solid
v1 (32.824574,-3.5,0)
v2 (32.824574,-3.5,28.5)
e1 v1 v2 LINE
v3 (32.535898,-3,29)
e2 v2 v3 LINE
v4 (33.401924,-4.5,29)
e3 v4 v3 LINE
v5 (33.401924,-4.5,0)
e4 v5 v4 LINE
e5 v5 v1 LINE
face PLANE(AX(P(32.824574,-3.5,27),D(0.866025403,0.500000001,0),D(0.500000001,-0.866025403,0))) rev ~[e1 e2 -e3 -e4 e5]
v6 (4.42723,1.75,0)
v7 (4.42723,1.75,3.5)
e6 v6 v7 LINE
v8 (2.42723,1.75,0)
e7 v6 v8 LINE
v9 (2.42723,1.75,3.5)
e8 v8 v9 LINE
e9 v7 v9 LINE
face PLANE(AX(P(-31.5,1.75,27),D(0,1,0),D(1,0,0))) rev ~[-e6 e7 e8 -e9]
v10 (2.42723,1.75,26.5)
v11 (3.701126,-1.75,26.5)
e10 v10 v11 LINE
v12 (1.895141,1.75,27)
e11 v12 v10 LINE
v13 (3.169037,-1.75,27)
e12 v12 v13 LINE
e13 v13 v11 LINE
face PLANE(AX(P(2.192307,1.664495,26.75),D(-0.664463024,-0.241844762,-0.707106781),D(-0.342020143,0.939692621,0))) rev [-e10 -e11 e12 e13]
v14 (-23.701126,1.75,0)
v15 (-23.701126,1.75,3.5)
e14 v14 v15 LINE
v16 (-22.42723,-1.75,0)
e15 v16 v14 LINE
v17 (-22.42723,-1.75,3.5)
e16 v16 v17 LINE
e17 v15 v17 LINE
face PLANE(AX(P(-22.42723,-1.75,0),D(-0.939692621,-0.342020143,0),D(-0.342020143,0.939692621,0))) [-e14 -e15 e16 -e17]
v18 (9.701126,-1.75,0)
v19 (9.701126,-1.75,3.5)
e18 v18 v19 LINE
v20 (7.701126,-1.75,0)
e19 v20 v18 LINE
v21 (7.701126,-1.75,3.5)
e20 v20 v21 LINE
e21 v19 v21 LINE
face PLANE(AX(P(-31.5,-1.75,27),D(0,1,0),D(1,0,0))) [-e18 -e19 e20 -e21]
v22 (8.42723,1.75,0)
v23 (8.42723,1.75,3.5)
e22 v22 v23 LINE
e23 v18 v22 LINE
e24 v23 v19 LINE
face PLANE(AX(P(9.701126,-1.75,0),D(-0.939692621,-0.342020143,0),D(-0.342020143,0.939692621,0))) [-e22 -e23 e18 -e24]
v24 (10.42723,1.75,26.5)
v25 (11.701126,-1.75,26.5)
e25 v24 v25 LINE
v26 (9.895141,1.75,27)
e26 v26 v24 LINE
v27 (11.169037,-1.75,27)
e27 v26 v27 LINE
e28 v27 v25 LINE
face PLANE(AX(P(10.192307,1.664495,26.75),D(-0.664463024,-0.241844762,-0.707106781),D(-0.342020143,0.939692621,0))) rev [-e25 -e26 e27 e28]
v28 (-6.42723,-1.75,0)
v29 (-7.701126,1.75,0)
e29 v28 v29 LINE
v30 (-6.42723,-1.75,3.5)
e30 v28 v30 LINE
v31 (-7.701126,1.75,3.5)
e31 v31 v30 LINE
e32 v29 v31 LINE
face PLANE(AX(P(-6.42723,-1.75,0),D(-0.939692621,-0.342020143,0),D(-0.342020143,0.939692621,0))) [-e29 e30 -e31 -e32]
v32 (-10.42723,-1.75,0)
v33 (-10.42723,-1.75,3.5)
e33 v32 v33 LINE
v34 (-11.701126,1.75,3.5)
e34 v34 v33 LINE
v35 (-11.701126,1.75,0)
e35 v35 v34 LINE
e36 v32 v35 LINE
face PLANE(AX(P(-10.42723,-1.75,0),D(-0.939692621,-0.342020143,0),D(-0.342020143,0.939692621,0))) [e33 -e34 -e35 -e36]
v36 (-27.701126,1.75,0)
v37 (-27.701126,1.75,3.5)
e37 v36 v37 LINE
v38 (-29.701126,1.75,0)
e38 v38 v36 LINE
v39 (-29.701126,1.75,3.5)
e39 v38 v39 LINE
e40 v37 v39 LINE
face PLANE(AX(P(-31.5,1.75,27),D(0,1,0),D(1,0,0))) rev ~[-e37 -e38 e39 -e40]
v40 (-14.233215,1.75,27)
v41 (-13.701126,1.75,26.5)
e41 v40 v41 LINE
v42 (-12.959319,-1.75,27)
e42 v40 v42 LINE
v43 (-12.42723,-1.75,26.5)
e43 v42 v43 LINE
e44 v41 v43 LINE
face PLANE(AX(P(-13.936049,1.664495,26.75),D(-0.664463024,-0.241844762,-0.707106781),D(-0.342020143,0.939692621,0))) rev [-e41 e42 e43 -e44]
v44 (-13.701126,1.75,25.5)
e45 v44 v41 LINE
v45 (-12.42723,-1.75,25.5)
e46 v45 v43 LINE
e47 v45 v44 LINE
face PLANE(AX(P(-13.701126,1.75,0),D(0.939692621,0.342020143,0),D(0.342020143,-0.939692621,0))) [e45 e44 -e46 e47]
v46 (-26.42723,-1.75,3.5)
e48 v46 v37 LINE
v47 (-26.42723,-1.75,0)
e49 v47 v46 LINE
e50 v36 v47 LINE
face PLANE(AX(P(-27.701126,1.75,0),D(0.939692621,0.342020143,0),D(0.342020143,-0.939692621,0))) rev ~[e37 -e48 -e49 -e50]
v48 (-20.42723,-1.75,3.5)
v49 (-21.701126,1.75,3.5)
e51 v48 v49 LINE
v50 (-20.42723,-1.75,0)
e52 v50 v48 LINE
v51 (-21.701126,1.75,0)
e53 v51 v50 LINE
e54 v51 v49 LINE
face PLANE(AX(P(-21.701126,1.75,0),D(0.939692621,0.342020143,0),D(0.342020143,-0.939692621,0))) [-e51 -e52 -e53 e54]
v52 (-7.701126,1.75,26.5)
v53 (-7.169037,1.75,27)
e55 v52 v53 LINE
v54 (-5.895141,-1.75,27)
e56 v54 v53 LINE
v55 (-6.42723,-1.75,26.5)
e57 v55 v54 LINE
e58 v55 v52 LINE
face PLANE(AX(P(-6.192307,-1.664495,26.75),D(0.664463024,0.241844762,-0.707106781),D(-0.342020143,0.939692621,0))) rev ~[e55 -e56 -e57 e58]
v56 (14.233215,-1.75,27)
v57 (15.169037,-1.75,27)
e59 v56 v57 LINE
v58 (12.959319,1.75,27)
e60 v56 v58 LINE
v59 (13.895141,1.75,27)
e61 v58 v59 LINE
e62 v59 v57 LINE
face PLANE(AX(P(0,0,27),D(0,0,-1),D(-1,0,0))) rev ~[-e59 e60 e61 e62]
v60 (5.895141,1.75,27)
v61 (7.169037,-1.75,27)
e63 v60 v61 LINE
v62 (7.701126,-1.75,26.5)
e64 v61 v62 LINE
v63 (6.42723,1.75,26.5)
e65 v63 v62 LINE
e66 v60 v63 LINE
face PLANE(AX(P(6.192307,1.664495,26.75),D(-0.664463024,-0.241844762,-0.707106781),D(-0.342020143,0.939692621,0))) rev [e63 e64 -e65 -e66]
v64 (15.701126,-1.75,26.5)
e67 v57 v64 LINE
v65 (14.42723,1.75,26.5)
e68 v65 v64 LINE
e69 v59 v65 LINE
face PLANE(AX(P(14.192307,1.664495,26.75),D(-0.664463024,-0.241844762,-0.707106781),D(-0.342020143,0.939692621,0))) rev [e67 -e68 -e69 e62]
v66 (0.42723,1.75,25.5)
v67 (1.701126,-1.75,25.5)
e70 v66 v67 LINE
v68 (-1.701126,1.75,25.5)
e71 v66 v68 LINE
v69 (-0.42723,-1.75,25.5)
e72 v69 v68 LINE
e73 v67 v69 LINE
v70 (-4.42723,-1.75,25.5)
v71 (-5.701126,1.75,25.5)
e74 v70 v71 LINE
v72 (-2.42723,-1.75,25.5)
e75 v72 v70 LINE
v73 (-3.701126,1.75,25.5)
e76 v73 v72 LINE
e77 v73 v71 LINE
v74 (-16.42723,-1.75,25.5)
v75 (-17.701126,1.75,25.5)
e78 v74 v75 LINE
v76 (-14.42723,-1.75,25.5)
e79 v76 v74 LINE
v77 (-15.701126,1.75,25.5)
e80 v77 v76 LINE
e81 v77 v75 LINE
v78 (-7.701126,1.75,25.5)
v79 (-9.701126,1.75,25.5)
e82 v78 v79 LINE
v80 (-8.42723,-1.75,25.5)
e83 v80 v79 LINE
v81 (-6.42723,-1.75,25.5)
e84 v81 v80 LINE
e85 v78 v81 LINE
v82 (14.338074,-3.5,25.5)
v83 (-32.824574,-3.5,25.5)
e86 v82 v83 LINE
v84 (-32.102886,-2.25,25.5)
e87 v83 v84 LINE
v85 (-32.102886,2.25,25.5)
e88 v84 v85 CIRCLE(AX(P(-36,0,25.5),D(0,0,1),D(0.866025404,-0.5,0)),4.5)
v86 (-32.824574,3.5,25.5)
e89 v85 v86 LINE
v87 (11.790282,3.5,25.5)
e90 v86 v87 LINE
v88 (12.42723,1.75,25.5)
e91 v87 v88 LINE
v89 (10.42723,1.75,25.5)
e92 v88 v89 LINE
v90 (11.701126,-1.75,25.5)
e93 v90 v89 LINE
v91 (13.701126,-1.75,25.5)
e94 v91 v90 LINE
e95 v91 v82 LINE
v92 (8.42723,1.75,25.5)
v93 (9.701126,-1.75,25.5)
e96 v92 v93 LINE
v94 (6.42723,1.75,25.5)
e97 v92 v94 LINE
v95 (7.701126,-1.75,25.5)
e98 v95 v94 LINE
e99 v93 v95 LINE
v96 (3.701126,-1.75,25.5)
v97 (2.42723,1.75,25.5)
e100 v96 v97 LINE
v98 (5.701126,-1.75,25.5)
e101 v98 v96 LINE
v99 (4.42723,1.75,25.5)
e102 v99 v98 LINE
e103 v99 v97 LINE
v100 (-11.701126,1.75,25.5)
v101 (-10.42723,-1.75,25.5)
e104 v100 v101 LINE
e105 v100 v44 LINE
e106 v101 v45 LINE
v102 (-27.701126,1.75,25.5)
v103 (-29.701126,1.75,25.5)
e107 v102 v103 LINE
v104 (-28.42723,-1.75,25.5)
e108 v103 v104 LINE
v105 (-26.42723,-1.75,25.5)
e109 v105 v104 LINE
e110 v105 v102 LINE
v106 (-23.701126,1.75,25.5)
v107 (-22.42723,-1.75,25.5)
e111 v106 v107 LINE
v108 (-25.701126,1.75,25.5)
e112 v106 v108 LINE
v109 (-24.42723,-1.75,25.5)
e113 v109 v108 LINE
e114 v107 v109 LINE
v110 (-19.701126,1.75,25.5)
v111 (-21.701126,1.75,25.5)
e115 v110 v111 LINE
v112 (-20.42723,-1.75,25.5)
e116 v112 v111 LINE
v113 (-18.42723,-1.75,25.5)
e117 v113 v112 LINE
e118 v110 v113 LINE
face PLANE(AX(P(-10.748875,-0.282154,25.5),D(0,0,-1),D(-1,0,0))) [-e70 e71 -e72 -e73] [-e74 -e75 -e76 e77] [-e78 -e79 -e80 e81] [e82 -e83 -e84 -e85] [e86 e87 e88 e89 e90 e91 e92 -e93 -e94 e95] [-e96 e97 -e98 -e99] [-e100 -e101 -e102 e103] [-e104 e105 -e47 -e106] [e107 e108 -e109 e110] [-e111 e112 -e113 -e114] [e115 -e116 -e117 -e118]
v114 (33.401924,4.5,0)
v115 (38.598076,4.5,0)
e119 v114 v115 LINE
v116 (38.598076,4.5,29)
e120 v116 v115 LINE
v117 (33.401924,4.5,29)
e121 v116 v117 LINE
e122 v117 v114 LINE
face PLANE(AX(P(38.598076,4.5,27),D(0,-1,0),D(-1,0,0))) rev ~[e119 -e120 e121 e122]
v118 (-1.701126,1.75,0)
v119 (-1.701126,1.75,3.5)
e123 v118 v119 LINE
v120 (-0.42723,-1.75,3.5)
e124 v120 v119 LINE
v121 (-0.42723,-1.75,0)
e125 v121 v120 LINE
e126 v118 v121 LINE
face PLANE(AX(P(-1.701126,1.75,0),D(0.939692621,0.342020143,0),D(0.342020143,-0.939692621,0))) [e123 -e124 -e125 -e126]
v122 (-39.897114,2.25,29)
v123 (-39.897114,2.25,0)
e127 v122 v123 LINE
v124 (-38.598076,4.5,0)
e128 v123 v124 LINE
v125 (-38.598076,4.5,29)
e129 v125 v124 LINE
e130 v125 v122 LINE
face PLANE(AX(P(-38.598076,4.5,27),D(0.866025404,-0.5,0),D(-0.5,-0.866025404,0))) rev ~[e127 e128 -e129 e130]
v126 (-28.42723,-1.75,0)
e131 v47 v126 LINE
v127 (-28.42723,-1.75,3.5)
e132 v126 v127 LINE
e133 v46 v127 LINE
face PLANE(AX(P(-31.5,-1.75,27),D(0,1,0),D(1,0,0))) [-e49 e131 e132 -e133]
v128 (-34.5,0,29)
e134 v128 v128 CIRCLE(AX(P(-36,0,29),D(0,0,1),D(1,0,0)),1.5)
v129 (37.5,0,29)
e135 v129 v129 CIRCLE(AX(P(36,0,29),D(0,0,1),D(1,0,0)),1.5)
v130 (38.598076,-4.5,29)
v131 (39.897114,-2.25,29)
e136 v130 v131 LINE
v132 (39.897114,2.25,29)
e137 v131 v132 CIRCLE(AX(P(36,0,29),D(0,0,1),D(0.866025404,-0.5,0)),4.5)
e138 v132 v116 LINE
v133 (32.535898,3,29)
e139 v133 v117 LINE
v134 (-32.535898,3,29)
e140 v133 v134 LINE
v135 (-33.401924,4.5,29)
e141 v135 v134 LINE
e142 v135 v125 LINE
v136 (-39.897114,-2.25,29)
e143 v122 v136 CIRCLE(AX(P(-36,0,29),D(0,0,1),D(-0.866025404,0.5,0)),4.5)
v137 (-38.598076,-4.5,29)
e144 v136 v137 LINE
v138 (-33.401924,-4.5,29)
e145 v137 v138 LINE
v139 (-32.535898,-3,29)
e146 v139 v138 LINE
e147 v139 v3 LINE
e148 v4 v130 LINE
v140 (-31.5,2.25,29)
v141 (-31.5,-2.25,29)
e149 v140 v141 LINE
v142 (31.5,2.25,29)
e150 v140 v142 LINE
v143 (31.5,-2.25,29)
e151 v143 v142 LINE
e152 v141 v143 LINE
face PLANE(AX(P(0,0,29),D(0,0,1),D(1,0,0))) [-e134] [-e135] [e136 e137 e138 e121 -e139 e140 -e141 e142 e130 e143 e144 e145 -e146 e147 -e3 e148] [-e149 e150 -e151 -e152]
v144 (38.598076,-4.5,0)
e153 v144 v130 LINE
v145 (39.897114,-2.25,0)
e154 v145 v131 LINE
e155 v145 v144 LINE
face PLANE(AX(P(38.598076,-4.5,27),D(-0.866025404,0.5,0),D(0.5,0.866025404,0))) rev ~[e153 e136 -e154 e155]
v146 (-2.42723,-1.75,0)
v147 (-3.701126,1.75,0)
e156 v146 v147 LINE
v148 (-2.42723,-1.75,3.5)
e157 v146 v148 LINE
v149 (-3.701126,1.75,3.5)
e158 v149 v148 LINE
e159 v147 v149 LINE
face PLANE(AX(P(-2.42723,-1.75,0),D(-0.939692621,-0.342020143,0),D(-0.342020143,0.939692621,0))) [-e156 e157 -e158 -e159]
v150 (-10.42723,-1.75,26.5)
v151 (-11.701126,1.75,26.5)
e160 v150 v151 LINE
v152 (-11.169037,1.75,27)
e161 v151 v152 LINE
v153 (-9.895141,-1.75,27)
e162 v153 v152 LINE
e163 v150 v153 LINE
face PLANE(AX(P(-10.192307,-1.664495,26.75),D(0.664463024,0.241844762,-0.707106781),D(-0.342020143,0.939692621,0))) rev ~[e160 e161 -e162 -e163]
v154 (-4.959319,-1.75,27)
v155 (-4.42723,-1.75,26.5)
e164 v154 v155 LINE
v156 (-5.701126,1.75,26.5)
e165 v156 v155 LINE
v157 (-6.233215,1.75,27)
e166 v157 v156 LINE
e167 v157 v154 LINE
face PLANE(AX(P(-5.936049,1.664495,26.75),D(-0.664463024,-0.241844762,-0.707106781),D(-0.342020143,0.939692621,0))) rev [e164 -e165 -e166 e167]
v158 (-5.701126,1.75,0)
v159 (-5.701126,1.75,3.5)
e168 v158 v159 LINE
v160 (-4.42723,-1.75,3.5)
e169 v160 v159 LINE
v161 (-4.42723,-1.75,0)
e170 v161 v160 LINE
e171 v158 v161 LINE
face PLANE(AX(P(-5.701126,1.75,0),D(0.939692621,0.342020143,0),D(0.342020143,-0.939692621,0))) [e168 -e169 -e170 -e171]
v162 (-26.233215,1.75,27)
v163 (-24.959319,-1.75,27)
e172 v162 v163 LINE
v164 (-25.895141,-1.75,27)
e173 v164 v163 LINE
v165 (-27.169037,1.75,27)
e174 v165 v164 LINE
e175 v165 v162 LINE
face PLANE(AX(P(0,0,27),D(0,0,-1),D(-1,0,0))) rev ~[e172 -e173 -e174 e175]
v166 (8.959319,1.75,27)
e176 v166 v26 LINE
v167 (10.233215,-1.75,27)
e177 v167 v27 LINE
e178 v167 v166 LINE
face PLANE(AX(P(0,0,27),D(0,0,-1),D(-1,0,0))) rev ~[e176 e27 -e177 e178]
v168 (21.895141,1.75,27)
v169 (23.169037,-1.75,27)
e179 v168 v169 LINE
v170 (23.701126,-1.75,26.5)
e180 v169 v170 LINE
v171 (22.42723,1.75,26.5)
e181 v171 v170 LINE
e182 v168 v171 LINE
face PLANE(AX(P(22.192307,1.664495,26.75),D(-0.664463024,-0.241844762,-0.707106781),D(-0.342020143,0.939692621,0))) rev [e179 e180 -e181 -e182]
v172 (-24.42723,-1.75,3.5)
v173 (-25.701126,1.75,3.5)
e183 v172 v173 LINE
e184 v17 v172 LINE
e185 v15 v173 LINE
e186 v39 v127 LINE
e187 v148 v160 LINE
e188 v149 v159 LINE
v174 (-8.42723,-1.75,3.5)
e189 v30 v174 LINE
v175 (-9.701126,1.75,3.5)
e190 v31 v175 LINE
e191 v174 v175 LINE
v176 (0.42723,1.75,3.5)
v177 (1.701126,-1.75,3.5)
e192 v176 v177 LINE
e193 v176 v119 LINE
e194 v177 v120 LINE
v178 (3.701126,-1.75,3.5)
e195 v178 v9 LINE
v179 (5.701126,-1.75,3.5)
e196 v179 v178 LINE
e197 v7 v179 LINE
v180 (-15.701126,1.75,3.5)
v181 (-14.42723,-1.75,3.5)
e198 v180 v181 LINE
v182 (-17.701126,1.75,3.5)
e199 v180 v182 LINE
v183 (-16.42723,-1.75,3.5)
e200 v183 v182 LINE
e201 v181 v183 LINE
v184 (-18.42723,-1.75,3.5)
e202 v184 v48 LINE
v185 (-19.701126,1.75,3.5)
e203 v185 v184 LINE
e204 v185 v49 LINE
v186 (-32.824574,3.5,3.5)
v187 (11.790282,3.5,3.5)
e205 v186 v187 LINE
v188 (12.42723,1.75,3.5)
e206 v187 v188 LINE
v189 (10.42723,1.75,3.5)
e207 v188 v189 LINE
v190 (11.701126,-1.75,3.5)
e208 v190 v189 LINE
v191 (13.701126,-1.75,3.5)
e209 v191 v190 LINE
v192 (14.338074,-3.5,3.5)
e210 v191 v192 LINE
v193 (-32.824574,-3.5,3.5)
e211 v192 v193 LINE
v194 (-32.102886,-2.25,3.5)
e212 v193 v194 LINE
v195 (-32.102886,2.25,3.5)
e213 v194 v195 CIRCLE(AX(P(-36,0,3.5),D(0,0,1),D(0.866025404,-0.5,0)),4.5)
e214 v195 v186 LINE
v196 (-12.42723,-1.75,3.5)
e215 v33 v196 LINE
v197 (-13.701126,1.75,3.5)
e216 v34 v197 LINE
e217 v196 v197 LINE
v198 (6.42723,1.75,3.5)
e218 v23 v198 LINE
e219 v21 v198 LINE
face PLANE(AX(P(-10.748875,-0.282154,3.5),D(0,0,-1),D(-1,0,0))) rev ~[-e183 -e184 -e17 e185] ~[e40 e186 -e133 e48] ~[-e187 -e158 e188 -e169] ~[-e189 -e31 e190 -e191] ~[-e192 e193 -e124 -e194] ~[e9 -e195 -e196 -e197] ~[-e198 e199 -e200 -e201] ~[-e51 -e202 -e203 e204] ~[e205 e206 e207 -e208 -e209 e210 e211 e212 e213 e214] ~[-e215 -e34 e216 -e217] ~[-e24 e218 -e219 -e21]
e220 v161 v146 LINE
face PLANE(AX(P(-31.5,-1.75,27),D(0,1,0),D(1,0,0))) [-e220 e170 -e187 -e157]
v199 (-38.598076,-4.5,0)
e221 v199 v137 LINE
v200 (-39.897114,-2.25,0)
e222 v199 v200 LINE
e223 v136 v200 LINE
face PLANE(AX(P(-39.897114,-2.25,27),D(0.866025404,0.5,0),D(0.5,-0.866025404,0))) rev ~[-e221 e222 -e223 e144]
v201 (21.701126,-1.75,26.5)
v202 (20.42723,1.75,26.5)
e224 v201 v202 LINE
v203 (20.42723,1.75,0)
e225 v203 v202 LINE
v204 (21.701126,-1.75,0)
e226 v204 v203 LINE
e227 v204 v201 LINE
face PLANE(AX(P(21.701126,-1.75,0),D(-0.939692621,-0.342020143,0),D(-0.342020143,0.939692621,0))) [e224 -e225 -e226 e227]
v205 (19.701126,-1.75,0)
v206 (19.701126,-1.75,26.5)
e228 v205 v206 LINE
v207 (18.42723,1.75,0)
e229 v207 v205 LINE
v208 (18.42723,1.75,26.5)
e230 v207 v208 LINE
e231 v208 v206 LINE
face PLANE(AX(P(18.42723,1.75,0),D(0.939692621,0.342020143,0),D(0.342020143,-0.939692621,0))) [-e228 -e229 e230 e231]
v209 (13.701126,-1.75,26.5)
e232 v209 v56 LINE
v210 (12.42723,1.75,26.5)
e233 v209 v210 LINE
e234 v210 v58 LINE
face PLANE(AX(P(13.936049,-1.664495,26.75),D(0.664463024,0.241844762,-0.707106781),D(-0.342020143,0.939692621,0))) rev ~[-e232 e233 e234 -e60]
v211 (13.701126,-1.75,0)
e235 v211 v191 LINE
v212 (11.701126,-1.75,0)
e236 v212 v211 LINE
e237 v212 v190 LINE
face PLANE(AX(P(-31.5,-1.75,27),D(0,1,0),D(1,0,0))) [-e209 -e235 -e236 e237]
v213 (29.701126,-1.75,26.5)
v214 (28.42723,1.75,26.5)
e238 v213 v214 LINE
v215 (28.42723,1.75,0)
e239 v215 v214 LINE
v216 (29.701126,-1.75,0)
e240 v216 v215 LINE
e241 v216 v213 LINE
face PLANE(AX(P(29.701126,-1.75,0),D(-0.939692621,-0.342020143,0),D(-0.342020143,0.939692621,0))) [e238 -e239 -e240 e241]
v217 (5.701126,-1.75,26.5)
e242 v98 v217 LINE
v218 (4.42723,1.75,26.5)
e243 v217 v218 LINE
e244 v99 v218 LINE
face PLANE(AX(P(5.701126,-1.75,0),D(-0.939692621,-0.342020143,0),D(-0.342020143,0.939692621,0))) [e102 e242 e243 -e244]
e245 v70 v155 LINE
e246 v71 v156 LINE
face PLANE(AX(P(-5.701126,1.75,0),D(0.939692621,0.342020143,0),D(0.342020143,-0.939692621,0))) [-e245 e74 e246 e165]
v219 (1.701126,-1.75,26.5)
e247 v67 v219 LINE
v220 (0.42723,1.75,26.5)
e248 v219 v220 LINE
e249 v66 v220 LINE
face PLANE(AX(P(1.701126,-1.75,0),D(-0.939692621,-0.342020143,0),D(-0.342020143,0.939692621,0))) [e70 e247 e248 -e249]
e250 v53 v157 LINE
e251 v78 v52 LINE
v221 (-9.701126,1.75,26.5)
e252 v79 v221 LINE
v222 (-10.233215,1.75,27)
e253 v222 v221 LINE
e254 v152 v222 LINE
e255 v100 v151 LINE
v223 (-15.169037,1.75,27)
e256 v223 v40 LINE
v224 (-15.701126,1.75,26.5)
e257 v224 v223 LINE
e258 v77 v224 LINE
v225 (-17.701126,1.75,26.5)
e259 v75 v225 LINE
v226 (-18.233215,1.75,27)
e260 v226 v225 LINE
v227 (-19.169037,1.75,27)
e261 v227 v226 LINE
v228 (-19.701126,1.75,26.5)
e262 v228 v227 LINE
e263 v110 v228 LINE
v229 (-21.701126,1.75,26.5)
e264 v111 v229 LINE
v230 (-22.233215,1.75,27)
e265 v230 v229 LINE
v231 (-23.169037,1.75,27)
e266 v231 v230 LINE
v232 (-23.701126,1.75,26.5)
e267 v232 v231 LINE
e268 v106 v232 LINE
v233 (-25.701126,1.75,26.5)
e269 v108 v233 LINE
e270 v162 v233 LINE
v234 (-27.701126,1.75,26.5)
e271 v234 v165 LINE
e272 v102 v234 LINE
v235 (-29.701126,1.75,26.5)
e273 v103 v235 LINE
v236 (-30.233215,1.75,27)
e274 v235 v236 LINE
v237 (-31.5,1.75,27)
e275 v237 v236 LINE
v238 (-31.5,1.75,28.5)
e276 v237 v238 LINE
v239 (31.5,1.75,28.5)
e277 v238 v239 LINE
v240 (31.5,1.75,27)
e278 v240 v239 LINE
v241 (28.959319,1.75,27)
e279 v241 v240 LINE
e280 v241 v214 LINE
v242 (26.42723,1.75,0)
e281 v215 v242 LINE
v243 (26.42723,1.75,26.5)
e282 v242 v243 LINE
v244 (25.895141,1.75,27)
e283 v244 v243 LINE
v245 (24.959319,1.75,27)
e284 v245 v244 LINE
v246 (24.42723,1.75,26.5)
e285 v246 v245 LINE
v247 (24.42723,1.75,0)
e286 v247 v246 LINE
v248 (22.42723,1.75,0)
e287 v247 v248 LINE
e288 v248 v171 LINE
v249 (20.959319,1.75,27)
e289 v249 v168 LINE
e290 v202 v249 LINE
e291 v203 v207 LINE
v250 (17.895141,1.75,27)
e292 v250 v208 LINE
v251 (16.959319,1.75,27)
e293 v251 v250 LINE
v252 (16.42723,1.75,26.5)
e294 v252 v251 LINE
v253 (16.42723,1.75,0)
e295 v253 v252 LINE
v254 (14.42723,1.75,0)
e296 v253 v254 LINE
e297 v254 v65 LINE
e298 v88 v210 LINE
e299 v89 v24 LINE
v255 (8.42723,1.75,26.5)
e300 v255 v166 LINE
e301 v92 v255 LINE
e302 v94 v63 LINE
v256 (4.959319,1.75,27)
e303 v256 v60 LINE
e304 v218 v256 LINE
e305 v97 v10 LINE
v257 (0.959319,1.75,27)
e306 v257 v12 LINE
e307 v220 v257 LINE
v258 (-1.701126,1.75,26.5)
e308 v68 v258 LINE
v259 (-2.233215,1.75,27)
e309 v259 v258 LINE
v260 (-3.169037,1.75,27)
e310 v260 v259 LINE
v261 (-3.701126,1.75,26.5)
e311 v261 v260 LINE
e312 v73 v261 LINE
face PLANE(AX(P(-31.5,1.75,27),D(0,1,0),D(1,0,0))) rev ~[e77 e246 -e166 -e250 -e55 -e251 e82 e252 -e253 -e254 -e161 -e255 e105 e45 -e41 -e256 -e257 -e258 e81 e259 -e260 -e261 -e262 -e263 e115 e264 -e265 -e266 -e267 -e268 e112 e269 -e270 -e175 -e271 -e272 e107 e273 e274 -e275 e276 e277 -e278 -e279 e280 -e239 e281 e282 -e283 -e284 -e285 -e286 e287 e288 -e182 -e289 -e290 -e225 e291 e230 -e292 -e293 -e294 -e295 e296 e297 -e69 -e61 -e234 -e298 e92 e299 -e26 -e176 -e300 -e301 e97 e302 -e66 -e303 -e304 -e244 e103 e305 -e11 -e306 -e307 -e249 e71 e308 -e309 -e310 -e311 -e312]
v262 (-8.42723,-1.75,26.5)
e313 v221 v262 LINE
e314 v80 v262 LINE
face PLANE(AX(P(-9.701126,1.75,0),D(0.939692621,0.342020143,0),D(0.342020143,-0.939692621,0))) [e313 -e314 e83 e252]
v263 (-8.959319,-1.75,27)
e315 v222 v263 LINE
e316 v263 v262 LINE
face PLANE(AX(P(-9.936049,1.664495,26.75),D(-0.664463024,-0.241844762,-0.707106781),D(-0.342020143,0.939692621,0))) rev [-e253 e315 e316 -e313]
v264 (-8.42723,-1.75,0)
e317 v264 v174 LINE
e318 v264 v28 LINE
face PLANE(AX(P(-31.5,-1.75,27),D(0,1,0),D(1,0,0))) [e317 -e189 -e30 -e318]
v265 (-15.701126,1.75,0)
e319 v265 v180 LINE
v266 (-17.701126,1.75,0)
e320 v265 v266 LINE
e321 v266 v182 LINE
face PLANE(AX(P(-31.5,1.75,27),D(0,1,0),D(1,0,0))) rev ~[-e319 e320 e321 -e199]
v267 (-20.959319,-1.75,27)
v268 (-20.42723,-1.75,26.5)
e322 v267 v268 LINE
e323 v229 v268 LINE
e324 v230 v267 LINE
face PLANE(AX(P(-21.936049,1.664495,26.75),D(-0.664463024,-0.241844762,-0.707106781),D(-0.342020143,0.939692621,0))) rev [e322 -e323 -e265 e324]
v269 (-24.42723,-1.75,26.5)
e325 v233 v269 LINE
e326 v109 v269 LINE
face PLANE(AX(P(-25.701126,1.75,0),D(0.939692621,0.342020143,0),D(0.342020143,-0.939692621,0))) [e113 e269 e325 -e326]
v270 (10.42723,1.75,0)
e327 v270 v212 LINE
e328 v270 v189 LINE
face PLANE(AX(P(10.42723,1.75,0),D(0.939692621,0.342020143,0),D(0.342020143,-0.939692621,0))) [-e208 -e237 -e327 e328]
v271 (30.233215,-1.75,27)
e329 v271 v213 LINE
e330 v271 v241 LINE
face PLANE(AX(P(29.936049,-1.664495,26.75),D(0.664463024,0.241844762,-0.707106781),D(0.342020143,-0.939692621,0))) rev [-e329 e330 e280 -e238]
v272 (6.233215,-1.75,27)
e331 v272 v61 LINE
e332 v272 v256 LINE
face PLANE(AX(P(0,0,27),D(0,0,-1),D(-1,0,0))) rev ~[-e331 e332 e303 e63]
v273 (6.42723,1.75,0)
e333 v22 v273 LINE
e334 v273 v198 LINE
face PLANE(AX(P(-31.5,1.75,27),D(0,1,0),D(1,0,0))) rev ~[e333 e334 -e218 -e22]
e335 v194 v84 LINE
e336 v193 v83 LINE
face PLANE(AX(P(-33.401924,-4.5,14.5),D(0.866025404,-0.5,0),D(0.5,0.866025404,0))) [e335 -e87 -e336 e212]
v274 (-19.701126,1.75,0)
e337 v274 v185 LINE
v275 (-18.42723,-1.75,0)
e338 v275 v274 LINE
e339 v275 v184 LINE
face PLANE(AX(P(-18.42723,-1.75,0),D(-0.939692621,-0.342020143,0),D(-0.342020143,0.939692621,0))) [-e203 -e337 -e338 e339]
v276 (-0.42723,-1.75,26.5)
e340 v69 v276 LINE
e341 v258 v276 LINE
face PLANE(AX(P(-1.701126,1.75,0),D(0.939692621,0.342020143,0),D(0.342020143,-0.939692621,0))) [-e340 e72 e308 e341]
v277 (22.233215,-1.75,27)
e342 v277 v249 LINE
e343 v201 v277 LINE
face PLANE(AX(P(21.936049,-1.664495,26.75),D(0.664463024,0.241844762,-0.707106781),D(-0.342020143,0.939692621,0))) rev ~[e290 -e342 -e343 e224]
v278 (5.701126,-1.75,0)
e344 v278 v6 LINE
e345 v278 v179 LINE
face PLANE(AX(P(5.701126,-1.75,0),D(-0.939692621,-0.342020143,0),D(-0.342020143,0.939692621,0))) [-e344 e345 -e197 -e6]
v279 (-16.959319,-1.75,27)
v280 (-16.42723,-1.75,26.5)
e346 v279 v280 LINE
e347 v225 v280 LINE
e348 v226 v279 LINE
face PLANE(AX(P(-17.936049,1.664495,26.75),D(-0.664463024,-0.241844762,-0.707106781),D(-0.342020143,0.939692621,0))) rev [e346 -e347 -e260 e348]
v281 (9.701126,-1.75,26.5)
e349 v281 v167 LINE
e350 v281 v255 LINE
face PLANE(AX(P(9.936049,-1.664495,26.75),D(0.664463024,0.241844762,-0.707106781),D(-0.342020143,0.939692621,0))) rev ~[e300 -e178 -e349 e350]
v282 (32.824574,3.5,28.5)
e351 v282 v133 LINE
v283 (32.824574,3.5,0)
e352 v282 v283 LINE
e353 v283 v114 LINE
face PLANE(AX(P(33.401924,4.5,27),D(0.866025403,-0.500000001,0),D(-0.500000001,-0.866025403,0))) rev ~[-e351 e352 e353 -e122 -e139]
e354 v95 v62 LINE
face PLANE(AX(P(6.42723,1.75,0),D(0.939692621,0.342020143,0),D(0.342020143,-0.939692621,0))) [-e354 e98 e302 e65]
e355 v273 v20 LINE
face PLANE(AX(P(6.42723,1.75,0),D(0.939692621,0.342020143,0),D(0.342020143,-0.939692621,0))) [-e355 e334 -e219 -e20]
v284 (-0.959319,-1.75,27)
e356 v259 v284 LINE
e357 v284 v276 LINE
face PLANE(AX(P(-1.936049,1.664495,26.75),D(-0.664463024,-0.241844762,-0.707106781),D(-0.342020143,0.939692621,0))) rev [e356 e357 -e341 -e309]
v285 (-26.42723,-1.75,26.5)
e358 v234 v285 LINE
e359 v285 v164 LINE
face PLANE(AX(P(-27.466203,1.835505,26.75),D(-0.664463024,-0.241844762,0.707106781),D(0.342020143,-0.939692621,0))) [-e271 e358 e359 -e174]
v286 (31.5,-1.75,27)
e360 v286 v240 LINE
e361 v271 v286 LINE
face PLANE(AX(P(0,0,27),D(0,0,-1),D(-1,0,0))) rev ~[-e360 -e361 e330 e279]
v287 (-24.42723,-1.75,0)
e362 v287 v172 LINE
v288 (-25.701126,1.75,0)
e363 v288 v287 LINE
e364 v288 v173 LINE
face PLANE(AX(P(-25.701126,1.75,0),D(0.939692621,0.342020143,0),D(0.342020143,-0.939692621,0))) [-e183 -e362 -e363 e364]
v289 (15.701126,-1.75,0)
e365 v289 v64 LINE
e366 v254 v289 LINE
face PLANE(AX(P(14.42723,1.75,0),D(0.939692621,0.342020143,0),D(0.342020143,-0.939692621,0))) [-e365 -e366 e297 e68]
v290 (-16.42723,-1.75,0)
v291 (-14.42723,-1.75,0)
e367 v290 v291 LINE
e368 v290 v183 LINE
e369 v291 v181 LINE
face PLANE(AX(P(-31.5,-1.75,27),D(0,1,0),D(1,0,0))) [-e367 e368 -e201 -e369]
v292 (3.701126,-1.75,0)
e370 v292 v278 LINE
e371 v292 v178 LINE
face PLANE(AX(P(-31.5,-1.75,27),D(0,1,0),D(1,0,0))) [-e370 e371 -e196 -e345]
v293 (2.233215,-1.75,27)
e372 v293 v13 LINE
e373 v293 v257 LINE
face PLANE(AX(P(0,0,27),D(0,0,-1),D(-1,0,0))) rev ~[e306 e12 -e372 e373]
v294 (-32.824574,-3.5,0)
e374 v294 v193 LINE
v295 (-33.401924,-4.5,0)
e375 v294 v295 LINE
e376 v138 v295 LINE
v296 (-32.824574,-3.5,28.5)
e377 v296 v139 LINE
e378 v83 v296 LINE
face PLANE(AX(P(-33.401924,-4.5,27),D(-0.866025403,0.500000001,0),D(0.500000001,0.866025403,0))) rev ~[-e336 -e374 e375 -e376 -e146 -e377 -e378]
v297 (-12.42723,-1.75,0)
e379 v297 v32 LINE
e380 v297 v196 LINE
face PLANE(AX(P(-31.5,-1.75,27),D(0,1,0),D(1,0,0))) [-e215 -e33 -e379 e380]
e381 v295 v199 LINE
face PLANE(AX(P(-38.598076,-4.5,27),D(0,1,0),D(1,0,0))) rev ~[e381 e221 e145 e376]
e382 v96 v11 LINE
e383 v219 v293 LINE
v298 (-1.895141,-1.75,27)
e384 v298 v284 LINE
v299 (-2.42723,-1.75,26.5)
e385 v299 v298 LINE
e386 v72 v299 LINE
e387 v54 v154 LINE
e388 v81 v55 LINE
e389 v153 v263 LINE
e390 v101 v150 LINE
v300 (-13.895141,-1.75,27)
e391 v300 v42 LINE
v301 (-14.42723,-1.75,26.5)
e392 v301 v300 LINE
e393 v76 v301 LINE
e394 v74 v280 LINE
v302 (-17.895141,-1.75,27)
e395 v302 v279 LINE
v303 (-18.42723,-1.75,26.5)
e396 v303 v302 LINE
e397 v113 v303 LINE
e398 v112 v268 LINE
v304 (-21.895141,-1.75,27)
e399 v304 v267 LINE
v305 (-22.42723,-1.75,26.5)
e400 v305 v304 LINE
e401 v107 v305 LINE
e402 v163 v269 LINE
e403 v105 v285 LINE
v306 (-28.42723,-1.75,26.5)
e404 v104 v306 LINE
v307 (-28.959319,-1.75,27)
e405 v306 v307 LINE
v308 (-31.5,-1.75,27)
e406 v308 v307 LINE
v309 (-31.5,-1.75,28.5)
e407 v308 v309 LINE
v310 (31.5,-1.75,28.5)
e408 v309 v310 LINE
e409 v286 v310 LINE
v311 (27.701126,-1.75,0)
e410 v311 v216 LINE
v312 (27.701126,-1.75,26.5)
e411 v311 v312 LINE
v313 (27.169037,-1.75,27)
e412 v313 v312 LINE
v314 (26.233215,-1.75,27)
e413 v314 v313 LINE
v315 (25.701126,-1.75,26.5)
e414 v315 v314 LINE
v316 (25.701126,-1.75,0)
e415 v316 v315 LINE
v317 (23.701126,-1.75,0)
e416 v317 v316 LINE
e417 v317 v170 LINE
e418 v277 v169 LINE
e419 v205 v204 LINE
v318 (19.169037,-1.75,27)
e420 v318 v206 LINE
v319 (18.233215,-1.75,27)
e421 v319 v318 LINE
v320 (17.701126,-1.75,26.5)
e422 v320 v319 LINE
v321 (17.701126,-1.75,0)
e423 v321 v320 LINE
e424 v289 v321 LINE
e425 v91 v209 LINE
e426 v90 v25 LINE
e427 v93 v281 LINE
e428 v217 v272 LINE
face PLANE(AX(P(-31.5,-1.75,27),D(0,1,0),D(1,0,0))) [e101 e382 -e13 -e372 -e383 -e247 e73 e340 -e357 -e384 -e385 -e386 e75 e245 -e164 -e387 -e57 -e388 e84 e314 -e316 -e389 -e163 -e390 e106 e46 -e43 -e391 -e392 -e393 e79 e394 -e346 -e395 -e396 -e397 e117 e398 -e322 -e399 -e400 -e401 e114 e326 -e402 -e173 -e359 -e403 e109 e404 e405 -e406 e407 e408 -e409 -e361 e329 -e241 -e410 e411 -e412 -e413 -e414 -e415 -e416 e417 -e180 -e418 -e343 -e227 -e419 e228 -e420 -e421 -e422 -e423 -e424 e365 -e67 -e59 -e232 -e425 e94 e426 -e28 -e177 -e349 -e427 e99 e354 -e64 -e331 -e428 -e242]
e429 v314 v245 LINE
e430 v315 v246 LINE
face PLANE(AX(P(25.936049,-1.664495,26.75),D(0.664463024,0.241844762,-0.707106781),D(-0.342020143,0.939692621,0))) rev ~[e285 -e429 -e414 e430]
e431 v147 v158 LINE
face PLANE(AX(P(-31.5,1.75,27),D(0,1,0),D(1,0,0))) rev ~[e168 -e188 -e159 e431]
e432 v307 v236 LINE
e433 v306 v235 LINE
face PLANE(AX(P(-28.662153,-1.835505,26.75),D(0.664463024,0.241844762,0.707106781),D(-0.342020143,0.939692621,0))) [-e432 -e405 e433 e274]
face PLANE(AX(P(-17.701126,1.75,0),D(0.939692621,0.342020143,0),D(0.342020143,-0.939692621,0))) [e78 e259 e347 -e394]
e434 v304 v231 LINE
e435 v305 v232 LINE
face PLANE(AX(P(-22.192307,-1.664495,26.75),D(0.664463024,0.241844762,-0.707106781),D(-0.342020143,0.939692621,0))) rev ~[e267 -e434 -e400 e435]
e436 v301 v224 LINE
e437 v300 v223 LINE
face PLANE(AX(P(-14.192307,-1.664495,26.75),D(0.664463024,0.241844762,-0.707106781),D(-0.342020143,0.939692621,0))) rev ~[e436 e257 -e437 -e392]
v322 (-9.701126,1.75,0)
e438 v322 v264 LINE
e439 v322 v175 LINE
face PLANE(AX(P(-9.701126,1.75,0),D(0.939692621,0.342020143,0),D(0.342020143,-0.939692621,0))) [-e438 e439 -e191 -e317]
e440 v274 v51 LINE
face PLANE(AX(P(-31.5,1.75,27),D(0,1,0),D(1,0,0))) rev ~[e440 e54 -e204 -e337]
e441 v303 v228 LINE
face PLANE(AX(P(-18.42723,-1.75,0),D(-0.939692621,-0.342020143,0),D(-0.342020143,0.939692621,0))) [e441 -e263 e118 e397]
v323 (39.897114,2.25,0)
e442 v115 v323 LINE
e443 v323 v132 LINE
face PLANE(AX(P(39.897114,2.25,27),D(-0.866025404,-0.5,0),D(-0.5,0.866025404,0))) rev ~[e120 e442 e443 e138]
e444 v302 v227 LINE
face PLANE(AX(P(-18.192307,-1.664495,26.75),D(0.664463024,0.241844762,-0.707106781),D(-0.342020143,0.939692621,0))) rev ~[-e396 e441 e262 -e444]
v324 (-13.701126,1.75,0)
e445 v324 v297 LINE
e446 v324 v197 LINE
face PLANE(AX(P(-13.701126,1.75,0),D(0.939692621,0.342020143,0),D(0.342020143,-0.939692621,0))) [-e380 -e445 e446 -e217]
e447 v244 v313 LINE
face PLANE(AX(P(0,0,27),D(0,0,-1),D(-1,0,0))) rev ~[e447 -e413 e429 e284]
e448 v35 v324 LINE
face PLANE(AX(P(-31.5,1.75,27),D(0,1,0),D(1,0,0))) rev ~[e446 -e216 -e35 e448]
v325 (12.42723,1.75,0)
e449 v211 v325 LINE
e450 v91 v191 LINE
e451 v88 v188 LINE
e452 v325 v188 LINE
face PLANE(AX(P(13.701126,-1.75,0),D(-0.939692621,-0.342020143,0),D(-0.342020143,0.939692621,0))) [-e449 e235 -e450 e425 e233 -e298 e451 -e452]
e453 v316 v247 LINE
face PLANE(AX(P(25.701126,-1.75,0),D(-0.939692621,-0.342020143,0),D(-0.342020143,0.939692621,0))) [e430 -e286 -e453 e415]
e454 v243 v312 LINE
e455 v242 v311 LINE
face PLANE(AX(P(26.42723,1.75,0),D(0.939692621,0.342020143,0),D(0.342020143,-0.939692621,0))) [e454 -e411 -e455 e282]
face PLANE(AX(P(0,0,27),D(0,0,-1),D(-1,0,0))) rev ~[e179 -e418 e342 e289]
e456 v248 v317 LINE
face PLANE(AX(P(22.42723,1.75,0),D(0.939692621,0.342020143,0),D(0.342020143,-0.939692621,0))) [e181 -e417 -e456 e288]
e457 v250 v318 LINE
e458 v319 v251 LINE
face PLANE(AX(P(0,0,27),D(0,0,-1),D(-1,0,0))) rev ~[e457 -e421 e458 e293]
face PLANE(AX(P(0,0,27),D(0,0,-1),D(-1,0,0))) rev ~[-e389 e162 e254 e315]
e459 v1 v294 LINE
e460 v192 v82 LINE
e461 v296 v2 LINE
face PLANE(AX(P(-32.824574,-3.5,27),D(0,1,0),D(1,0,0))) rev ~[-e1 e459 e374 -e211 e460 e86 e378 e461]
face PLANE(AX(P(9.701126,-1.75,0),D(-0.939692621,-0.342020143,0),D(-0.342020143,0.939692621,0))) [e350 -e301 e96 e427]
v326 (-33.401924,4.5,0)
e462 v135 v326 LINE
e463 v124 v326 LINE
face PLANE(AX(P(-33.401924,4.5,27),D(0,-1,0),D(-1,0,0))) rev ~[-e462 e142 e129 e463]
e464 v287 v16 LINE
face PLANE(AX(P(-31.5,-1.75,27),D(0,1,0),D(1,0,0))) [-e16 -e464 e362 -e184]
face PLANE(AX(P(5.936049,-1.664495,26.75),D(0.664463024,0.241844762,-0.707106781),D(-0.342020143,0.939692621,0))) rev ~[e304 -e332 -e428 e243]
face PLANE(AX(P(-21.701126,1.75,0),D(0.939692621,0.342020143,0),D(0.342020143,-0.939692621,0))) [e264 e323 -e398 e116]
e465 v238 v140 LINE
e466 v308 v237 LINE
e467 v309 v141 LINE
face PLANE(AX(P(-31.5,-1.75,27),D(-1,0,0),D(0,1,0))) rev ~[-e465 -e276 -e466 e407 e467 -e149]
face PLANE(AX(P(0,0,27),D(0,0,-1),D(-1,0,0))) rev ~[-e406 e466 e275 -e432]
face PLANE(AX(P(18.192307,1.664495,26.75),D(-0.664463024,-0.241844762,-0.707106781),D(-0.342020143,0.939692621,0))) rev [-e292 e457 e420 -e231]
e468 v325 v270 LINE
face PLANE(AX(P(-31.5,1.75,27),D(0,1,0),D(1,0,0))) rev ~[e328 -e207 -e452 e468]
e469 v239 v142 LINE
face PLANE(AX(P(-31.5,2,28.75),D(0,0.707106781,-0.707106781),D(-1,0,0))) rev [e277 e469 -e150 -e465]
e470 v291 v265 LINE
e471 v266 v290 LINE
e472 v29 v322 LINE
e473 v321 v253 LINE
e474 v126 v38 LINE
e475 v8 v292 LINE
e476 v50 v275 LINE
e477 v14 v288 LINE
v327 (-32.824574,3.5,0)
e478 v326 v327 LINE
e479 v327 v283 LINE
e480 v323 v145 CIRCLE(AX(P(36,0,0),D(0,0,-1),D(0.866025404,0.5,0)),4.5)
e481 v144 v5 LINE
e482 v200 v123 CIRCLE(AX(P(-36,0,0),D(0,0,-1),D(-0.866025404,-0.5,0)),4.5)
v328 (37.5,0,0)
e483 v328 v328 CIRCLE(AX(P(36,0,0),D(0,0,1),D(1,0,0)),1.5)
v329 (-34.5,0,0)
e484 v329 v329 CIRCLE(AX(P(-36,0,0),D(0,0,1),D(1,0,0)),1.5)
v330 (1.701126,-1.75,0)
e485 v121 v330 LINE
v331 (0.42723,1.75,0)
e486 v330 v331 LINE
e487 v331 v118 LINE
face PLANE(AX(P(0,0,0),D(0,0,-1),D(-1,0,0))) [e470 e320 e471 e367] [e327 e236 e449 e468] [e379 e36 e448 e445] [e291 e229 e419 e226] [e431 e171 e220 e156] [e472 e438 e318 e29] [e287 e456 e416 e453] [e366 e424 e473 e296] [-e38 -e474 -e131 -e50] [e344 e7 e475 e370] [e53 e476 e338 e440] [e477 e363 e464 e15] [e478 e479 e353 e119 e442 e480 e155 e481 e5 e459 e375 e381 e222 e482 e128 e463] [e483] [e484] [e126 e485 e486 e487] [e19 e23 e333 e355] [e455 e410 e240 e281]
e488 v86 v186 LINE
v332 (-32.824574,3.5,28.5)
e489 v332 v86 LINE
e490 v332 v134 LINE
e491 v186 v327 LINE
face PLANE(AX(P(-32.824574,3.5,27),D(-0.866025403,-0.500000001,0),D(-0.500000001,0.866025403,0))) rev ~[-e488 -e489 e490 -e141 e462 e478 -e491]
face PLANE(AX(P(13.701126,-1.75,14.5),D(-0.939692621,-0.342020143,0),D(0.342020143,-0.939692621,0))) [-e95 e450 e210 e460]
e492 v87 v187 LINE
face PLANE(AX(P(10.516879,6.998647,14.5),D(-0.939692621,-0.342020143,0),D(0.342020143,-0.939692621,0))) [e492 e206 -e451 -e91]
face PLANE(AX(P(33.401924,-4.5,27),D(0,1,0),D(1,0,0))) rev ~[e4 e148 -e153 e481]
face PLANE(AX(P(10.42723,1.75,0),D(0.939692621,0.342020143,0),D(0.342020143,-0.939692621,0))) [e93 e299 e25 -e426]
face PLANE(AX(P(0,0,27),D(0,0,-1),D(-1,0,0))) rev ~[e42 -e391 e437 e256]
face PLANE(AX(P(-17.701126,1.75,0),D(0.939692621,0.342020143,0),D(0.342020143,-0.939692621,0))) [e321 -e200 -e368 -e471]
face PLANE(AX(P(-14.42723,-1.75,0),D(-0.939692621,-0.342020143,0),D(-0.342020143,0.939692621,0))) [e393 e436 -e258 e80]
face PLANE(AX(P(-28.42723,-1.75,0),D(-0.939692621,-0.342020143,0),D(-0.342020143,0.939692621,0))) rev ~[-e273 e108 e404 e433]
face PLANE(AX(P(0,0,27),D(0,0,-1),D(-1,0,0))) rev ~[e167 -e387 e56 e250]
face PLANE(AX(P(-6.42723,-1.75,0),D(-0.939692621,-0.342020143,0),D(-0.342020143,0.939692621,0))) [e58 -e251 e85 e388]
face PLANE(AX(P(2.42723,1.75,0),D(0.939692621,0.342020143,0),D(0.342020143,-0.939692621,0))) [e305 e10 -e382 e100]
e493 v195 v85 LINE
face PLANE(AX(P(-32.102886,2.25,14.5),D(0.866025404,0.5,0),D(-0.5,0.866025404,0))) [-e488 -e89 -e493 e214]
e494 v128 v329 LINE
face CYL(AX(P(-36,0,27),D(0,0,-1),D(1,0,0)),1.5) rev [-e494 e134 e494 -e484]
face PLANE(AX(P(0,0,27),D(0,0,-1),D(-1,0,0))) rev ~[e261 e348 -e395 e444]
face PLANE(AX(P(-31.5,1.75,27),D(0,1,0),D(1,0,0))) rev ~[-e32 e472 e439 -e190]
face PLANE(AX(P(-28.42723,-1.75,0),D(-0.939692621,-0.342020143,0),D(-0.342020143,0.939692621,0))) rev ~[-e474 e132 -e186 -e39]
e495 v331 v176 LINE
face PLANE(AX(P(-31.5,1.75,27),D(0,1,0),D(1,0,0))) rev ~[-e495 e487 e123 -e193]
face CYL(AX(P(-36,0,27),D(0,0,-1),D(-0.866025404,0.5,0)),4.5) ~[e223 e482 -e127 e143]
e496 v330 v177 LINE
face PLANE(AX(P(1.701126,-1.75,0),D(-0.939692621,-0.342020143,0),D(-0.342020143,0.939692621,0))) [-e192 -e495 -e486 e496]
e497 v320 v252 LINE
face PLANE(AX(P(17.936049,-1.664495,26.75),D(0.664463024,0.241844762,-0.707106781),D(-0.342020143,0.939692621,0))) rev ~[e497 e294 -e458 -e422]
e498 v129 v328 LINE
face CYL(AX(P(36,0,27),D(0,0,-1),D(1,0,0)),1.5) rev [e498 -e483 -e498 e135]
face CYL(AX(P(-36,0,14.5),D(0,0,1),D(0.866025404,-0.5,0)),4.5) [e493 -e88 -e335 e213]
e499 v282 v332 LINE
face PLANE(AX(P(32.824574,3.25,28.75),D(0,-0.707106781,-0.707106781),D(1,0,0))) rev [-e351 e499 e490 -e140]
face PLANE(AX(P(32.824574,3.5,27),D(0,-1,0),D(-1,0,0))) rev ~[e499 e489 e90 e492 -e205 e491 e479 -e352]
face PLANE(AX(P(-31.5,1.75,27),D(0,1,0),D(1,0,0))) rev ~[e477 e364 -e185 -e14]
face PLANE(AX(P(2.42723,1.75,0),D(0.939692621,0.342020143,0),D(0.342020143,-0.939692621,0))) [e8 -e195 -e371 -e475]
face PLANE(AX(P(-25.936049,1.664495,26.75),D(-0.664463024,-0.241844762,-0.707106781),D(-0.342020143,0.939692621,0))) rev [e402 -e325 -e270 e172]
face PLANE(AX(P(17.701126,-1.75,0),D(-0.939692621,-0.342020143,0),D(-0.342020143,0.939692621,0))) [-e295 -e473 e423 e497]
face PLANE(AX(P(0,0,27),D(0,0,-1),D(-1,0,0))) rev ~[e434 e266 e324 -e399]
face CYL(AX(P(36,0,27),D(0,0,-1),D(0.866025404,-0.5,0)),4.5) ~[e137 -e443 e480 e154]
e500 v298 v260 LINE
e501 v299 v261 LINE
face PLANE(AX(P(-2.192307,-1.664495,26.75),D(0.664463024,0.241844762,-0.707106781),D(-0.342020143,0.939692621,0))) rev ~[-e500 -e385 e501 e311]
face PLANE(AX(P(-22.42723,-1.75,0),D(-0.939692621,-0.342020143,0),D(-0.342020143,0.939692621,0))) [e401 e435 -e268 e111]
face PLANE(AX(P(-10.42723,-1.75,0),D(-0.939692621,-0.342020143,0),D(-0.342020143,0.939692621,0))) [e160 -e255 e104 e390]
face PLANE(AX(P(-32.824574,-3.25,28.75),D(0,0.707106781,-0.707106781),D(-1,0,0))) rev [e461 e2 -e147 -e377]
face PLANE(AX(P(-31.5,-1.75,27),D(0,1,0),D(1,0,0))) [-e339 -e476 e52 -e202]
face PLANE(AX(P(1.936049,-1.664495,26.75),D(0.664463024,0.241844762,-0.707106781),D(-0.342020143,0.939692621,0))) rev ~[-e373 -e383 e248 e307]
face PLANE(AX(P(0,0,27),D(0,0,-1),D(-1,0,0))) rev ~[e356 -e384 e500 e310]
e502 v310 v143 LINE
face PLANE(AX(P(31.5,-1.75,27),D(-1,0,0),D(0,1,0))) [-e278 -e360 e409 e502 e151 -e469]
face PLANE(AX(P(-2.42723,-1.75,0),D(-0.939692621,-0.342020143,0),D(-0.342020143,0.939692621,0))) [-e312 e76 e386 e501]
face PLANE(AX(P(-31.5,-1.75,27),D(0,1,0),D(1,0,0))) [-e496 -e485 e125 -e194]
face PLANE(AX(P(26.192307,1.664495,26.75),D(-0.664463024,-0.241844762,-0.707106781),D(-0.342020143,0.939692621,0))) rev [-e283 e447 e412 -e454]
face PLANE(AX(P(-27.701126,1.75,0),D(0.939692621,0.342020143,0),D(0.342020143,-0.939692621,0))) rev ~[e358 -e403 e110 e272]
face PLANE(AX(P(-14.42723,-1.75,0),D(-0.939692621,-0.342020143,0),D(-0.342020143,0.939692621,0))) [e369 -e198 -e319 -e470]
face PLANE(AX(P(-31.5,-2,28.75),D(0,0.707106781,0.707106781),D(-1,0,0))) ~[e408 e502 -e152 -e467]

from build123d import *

# Parameters (mm, degrees)
SKETCH2_R           = 1.5
BOSS_EXTRUDE1_DEPTH = 27
SKETCH3_R           = 1.5
SKETCH3_W           = 63
SKETCH3_H           = 3.5
BOSS_EXTRUDE2_DEPTH = 2
CHAMFER1_SIZE       = 0.5
CUT_EXTRUDE1_DEPTH  = 11


with BuildPart() as part:
    # Sketch2 → Boss-Extrude1 (new body)
    with BuildSketch(Plane.XY):
        with BuildLine():
            Line((32.824573519, -3.5), (-32.824573519, -3.5))
            Line((-32.824573519, -3.5), (-33.401923789, -4.5))
            Line((-33.401923789, -4.5), (-38.598076211, -4.5))
            Line((-38.598076211, -4.5), (-39.897114317, -2.25))
            ThreePointArc((-39.897114317, -2.25), (-40.5, 0), (-39.897114317, 2.25))
            Line((-39.897114317, 2.25), (-38.598076211, 4.5))
            Line((-38.598076211, 4.5), (-33.401923789, 4.5))
            Line((-33.401923789, 4.5), (-32.824573519, 3.5))
            Line((-32.824573519, 3.5), (32.824573519, 3.5))
            Line((32.824573519, 3.5), (33.401923789, 4.5))
            Line((33.401923789, 4.5), (38.598076211, 4.5))
            Line((38.598076211, 4.5), (39.897114317, 2.25))
            ThreePointArc((39.897114317, 2.25), (40.5, 0), (39.897114317, -2.25))
            Line((39.897114317, -2.25), (38.598076211, -4.5))
            Line((38.598076211, -4.5), (33.401923789, -4.5))
            Line((33.401923789, -4.5), (32.824573519, -3.5))
        make_face()
        with Locations((-36, 0)):
            Circle(SKETCH2_R, mode=Mode.SUBTRACT)
        with Locations((36, 0)):
            Circle(SKETCH2_R, mode=Mode.SUBTRACT)
        Polygon((-27.701125682, 1.75), (-26.427229863, -1.75), (-28.427229863, -1.75), (-29.701125682, 1.75), align=None, mode=Mode.SUBTRACT)
        Polygon((-25.701125682, 1.75), (-24.427229863, -1.75), (-22.427229863, -1.75), (-23.701125682, 1.75), align=None, mode=Mode.SUBTRACT)
        Polygon((-21.701125682, 1.75), (-20.427229863, -1.75), (-18.427229863, -1.75), (-19.701125682, 1.75), align=None, mode=Mode.SUBTRACT)
        Polygon((-17.701125682, 1.75), (-16.427229863, -1.75), (-14.427229863, -1.75), (-15.701125682, 1.75), align=None, mode=Mode.SUBTRACT)
        Polygon((-13.701125682, 1.75), (-12.427229863, -1.75), (-10.427229863, -1.75), (-11.701125682, 1.75), align=None, mode=Mode.SUBTRACT)
        Polygon((-9.701125682, 1.75), (-8.427229863, -1.75), (-6.427229863, -1.75), (-7.701125682, 1.75), align=None, mode=Mode.SUBTRACT)
        Polygon((-5.701125682, 1.75), (-4.427229863, -1.75), (-2.427229863, -1.75), (-3.701125682, 1.75), align=None, mode=Mode.SUBTRACT)
        Polygon((-1.701125682, 1.75), (-0.427229863, -1.75), (1.701125682, -1.75), (0.427229863, 1.75), align=None, mode=Mode.SUBTRACT)
        Polygon((2.427229863, 1.75), (3.701125682, -1.75), (5.701125682, -1.75), (4.427229863, 1.75), align=None, mode=Mode.SUBTRACT)
        Polygon((6.427229863, 1.75), (7.701125682, -1.75), (9.701125682, -1.75), (8.427229863, 1.75), align=None, mode=Mode.SUBTRACT)
        Polygon((10.427229863, 1.75), (11.701125682, -1.75), (13.701125682, -1.75), (12.427229863, 1.75), align=None, mode=Mode.SUBTRACT)
        Polygon((14.427229863, 1.75), (15.701125682, -1.75), (17.701125682, -1.75), (16.427229863, 1.75), align=None, mode=Mode.SUBTRACT)
        Polygon((18.427229863, 1.75), (19.701125682, -1.75), (21.701125682, -1.75), (20.427229863, 1.75), align=None, mode=Mode.SUBTRACT)
        Polygon((22.427229863, 1.75), (23.701125682, -1.75), (25.701125682, -1.75), (24.427229863, 1.75), align=None, mode=Mode.SUBTRACT)
        Polygon((26.427229863, 1.75), (27.701125682, -1.75), (29.701125682, -1.75), (28.427229863, 1.75), align=None, mode=Mode.SUBTRACT)
    extrude(amount=BOSS_EXTRUDE1_DEPTH)

    # Sketch3 → Boss-Extrude2 (add)
    with BuildSketch(Plane.XY.offset(27)):
        with BuildLine():
            Line((-39.897114317, -2.25), (-38.598076211, -4.5))
            Line((-38.598076211, -4.5), (-33.401923789, -4.5))
            Line((-33.401923789, -4.5), (-32.824573519, -3.5))
            Line((-32.824573519, -3.5), (32.824573519, -3.5))
            Line((32.824573519, -3.5), (33.401923789, -4.5))
            Line((33.401923789, -4.5), (38.598076211, -4.5))
            Line((38.598076211, -4.5), (39.897114317, -2.25))
            ThreePointArc((39.897114317, -2.25), (40.5, 0), (39.897114317, 2.25))
            Line((39.897114317, 2.25), (38.598076211, 4.5))
            Line((38.598076211, 4.5), (33.401923789, 4.5))
            Line((33.401923789, 4.5), (32.824573519, 3.5))
            Line((32.824573519, 3.5), (-32.824573519, 3.5))
            Line((-32.824573519, 3.5), (-33.401923789, 4.5))
            Line((-33.401923789, 4.5), (-38.598076211, 4.5))
            Line((-38.598076211, 4.5), (-39.897114317, 2.25))
            ThreePointArc((-39.897114317, 2.25), (-40.5, 0), (-39.897114317, -2.25))
        make_face()
        with Locations((-36, 0)):
            Circle(SKETCH3_R, mode=Mode.SUBTRACT)
        with Locations((36, 0)):
            Circle(SKETCH3_R, mode=Mode.SUBTRACT)
        Rectangle(SKETCH3_W, SKETCH3_H, mode=Mode.SUBTRACT)
    extrude(amount=BOSS_EXTRUDE2_DEPTH)

    # Chamfer1
    chamfer1_edges = [part.edges().sort_by_distance(p)[0] for p in [
        (-9.064177772, 0, 27),
        (-7.064177772, 0, 27),
        (-5.064177772, 0, 27),
        (-3.064177772, 0, 27),
        (-1.064177772, 0, 27),
        (1.064177772, 0, 27),
        (3.064177772, 0, 27),
        (5.064177772, 0, 27),
        (7.064177772, 0, 27),
        (9.064177772, 0, 27),
        (11.064177772, 0, 27),
        (13.064177772, 0, 27),
        (15.064177772, 0, 27),
        (17.064177772, 0, 27),
        (19.064177772, 0, 27),
        (21.064177772, 0, 27),
        (23.064177772, 0, 27),
        (25.064177772, 0, 27),
        (27.064177772, 0, 27),
        (29.064177772, 0, 27),
        (0, -3.5, 29),
        (0, 3.5, 29),
        (0, 1.75, 29),
        (0, -1.75, 29),
        (-29.064177772, 0, 27),
        (-27.064177772, 0, 27),
        (-25.064177772, 0, 27),
        (-23.064177772, 0, 27),
        (-21.064177772, 0, 27),
        (-19.064177772, 0, 27),
        (-17.064177772, 0, 27),
        (-15.064177772, 0, 27),
        (-13.064177772, 0, 27),
        (-11.064177772, 0, 27),
    ]]
    chamfer(chamfer1_edges, length=CHAMFER1_SIZE)

    # Sketch4 → Cut-Extrude1 (cut, symmetric)
    with BuildSketch(Plane.XY.offset(14.5)):
        with BuildLine():
            Line((-33.401923789, 4.5), (-34.844518305, 6.998646998))
            Line((-34.844518305, 6.998646998), (10.516878585, 6.998646998))
            Line((10.516878585, 6.998646998), (12.427229863, 1.75))
            Line((12.427229863, 1.75), (13.701125682, -1.75))
            Line((13.701125682, -1.75), (15.61147696, -6.998646998))
            Line((15.61147696, -6.998646998), (-34.844518305, -6.998646998))
            Line((-34.844518305, -6.998646998), (-33.401923789, -4.5))
            Line((-33.401923789, -4.5), (-32.102885683, -2.25))
            ThreePointArc((-32.102885683, -2.25), (-31.5, 0), (-32.102885683, 2.25))
            Line((-32.102885683, 2.25), (-33.401923789, 4.5))
        make_face()
    extrude(amount=CUT_EXTRUDE1_DEPTH, both=True, mode=Mode.SUBTRACT)


solid = part.part
